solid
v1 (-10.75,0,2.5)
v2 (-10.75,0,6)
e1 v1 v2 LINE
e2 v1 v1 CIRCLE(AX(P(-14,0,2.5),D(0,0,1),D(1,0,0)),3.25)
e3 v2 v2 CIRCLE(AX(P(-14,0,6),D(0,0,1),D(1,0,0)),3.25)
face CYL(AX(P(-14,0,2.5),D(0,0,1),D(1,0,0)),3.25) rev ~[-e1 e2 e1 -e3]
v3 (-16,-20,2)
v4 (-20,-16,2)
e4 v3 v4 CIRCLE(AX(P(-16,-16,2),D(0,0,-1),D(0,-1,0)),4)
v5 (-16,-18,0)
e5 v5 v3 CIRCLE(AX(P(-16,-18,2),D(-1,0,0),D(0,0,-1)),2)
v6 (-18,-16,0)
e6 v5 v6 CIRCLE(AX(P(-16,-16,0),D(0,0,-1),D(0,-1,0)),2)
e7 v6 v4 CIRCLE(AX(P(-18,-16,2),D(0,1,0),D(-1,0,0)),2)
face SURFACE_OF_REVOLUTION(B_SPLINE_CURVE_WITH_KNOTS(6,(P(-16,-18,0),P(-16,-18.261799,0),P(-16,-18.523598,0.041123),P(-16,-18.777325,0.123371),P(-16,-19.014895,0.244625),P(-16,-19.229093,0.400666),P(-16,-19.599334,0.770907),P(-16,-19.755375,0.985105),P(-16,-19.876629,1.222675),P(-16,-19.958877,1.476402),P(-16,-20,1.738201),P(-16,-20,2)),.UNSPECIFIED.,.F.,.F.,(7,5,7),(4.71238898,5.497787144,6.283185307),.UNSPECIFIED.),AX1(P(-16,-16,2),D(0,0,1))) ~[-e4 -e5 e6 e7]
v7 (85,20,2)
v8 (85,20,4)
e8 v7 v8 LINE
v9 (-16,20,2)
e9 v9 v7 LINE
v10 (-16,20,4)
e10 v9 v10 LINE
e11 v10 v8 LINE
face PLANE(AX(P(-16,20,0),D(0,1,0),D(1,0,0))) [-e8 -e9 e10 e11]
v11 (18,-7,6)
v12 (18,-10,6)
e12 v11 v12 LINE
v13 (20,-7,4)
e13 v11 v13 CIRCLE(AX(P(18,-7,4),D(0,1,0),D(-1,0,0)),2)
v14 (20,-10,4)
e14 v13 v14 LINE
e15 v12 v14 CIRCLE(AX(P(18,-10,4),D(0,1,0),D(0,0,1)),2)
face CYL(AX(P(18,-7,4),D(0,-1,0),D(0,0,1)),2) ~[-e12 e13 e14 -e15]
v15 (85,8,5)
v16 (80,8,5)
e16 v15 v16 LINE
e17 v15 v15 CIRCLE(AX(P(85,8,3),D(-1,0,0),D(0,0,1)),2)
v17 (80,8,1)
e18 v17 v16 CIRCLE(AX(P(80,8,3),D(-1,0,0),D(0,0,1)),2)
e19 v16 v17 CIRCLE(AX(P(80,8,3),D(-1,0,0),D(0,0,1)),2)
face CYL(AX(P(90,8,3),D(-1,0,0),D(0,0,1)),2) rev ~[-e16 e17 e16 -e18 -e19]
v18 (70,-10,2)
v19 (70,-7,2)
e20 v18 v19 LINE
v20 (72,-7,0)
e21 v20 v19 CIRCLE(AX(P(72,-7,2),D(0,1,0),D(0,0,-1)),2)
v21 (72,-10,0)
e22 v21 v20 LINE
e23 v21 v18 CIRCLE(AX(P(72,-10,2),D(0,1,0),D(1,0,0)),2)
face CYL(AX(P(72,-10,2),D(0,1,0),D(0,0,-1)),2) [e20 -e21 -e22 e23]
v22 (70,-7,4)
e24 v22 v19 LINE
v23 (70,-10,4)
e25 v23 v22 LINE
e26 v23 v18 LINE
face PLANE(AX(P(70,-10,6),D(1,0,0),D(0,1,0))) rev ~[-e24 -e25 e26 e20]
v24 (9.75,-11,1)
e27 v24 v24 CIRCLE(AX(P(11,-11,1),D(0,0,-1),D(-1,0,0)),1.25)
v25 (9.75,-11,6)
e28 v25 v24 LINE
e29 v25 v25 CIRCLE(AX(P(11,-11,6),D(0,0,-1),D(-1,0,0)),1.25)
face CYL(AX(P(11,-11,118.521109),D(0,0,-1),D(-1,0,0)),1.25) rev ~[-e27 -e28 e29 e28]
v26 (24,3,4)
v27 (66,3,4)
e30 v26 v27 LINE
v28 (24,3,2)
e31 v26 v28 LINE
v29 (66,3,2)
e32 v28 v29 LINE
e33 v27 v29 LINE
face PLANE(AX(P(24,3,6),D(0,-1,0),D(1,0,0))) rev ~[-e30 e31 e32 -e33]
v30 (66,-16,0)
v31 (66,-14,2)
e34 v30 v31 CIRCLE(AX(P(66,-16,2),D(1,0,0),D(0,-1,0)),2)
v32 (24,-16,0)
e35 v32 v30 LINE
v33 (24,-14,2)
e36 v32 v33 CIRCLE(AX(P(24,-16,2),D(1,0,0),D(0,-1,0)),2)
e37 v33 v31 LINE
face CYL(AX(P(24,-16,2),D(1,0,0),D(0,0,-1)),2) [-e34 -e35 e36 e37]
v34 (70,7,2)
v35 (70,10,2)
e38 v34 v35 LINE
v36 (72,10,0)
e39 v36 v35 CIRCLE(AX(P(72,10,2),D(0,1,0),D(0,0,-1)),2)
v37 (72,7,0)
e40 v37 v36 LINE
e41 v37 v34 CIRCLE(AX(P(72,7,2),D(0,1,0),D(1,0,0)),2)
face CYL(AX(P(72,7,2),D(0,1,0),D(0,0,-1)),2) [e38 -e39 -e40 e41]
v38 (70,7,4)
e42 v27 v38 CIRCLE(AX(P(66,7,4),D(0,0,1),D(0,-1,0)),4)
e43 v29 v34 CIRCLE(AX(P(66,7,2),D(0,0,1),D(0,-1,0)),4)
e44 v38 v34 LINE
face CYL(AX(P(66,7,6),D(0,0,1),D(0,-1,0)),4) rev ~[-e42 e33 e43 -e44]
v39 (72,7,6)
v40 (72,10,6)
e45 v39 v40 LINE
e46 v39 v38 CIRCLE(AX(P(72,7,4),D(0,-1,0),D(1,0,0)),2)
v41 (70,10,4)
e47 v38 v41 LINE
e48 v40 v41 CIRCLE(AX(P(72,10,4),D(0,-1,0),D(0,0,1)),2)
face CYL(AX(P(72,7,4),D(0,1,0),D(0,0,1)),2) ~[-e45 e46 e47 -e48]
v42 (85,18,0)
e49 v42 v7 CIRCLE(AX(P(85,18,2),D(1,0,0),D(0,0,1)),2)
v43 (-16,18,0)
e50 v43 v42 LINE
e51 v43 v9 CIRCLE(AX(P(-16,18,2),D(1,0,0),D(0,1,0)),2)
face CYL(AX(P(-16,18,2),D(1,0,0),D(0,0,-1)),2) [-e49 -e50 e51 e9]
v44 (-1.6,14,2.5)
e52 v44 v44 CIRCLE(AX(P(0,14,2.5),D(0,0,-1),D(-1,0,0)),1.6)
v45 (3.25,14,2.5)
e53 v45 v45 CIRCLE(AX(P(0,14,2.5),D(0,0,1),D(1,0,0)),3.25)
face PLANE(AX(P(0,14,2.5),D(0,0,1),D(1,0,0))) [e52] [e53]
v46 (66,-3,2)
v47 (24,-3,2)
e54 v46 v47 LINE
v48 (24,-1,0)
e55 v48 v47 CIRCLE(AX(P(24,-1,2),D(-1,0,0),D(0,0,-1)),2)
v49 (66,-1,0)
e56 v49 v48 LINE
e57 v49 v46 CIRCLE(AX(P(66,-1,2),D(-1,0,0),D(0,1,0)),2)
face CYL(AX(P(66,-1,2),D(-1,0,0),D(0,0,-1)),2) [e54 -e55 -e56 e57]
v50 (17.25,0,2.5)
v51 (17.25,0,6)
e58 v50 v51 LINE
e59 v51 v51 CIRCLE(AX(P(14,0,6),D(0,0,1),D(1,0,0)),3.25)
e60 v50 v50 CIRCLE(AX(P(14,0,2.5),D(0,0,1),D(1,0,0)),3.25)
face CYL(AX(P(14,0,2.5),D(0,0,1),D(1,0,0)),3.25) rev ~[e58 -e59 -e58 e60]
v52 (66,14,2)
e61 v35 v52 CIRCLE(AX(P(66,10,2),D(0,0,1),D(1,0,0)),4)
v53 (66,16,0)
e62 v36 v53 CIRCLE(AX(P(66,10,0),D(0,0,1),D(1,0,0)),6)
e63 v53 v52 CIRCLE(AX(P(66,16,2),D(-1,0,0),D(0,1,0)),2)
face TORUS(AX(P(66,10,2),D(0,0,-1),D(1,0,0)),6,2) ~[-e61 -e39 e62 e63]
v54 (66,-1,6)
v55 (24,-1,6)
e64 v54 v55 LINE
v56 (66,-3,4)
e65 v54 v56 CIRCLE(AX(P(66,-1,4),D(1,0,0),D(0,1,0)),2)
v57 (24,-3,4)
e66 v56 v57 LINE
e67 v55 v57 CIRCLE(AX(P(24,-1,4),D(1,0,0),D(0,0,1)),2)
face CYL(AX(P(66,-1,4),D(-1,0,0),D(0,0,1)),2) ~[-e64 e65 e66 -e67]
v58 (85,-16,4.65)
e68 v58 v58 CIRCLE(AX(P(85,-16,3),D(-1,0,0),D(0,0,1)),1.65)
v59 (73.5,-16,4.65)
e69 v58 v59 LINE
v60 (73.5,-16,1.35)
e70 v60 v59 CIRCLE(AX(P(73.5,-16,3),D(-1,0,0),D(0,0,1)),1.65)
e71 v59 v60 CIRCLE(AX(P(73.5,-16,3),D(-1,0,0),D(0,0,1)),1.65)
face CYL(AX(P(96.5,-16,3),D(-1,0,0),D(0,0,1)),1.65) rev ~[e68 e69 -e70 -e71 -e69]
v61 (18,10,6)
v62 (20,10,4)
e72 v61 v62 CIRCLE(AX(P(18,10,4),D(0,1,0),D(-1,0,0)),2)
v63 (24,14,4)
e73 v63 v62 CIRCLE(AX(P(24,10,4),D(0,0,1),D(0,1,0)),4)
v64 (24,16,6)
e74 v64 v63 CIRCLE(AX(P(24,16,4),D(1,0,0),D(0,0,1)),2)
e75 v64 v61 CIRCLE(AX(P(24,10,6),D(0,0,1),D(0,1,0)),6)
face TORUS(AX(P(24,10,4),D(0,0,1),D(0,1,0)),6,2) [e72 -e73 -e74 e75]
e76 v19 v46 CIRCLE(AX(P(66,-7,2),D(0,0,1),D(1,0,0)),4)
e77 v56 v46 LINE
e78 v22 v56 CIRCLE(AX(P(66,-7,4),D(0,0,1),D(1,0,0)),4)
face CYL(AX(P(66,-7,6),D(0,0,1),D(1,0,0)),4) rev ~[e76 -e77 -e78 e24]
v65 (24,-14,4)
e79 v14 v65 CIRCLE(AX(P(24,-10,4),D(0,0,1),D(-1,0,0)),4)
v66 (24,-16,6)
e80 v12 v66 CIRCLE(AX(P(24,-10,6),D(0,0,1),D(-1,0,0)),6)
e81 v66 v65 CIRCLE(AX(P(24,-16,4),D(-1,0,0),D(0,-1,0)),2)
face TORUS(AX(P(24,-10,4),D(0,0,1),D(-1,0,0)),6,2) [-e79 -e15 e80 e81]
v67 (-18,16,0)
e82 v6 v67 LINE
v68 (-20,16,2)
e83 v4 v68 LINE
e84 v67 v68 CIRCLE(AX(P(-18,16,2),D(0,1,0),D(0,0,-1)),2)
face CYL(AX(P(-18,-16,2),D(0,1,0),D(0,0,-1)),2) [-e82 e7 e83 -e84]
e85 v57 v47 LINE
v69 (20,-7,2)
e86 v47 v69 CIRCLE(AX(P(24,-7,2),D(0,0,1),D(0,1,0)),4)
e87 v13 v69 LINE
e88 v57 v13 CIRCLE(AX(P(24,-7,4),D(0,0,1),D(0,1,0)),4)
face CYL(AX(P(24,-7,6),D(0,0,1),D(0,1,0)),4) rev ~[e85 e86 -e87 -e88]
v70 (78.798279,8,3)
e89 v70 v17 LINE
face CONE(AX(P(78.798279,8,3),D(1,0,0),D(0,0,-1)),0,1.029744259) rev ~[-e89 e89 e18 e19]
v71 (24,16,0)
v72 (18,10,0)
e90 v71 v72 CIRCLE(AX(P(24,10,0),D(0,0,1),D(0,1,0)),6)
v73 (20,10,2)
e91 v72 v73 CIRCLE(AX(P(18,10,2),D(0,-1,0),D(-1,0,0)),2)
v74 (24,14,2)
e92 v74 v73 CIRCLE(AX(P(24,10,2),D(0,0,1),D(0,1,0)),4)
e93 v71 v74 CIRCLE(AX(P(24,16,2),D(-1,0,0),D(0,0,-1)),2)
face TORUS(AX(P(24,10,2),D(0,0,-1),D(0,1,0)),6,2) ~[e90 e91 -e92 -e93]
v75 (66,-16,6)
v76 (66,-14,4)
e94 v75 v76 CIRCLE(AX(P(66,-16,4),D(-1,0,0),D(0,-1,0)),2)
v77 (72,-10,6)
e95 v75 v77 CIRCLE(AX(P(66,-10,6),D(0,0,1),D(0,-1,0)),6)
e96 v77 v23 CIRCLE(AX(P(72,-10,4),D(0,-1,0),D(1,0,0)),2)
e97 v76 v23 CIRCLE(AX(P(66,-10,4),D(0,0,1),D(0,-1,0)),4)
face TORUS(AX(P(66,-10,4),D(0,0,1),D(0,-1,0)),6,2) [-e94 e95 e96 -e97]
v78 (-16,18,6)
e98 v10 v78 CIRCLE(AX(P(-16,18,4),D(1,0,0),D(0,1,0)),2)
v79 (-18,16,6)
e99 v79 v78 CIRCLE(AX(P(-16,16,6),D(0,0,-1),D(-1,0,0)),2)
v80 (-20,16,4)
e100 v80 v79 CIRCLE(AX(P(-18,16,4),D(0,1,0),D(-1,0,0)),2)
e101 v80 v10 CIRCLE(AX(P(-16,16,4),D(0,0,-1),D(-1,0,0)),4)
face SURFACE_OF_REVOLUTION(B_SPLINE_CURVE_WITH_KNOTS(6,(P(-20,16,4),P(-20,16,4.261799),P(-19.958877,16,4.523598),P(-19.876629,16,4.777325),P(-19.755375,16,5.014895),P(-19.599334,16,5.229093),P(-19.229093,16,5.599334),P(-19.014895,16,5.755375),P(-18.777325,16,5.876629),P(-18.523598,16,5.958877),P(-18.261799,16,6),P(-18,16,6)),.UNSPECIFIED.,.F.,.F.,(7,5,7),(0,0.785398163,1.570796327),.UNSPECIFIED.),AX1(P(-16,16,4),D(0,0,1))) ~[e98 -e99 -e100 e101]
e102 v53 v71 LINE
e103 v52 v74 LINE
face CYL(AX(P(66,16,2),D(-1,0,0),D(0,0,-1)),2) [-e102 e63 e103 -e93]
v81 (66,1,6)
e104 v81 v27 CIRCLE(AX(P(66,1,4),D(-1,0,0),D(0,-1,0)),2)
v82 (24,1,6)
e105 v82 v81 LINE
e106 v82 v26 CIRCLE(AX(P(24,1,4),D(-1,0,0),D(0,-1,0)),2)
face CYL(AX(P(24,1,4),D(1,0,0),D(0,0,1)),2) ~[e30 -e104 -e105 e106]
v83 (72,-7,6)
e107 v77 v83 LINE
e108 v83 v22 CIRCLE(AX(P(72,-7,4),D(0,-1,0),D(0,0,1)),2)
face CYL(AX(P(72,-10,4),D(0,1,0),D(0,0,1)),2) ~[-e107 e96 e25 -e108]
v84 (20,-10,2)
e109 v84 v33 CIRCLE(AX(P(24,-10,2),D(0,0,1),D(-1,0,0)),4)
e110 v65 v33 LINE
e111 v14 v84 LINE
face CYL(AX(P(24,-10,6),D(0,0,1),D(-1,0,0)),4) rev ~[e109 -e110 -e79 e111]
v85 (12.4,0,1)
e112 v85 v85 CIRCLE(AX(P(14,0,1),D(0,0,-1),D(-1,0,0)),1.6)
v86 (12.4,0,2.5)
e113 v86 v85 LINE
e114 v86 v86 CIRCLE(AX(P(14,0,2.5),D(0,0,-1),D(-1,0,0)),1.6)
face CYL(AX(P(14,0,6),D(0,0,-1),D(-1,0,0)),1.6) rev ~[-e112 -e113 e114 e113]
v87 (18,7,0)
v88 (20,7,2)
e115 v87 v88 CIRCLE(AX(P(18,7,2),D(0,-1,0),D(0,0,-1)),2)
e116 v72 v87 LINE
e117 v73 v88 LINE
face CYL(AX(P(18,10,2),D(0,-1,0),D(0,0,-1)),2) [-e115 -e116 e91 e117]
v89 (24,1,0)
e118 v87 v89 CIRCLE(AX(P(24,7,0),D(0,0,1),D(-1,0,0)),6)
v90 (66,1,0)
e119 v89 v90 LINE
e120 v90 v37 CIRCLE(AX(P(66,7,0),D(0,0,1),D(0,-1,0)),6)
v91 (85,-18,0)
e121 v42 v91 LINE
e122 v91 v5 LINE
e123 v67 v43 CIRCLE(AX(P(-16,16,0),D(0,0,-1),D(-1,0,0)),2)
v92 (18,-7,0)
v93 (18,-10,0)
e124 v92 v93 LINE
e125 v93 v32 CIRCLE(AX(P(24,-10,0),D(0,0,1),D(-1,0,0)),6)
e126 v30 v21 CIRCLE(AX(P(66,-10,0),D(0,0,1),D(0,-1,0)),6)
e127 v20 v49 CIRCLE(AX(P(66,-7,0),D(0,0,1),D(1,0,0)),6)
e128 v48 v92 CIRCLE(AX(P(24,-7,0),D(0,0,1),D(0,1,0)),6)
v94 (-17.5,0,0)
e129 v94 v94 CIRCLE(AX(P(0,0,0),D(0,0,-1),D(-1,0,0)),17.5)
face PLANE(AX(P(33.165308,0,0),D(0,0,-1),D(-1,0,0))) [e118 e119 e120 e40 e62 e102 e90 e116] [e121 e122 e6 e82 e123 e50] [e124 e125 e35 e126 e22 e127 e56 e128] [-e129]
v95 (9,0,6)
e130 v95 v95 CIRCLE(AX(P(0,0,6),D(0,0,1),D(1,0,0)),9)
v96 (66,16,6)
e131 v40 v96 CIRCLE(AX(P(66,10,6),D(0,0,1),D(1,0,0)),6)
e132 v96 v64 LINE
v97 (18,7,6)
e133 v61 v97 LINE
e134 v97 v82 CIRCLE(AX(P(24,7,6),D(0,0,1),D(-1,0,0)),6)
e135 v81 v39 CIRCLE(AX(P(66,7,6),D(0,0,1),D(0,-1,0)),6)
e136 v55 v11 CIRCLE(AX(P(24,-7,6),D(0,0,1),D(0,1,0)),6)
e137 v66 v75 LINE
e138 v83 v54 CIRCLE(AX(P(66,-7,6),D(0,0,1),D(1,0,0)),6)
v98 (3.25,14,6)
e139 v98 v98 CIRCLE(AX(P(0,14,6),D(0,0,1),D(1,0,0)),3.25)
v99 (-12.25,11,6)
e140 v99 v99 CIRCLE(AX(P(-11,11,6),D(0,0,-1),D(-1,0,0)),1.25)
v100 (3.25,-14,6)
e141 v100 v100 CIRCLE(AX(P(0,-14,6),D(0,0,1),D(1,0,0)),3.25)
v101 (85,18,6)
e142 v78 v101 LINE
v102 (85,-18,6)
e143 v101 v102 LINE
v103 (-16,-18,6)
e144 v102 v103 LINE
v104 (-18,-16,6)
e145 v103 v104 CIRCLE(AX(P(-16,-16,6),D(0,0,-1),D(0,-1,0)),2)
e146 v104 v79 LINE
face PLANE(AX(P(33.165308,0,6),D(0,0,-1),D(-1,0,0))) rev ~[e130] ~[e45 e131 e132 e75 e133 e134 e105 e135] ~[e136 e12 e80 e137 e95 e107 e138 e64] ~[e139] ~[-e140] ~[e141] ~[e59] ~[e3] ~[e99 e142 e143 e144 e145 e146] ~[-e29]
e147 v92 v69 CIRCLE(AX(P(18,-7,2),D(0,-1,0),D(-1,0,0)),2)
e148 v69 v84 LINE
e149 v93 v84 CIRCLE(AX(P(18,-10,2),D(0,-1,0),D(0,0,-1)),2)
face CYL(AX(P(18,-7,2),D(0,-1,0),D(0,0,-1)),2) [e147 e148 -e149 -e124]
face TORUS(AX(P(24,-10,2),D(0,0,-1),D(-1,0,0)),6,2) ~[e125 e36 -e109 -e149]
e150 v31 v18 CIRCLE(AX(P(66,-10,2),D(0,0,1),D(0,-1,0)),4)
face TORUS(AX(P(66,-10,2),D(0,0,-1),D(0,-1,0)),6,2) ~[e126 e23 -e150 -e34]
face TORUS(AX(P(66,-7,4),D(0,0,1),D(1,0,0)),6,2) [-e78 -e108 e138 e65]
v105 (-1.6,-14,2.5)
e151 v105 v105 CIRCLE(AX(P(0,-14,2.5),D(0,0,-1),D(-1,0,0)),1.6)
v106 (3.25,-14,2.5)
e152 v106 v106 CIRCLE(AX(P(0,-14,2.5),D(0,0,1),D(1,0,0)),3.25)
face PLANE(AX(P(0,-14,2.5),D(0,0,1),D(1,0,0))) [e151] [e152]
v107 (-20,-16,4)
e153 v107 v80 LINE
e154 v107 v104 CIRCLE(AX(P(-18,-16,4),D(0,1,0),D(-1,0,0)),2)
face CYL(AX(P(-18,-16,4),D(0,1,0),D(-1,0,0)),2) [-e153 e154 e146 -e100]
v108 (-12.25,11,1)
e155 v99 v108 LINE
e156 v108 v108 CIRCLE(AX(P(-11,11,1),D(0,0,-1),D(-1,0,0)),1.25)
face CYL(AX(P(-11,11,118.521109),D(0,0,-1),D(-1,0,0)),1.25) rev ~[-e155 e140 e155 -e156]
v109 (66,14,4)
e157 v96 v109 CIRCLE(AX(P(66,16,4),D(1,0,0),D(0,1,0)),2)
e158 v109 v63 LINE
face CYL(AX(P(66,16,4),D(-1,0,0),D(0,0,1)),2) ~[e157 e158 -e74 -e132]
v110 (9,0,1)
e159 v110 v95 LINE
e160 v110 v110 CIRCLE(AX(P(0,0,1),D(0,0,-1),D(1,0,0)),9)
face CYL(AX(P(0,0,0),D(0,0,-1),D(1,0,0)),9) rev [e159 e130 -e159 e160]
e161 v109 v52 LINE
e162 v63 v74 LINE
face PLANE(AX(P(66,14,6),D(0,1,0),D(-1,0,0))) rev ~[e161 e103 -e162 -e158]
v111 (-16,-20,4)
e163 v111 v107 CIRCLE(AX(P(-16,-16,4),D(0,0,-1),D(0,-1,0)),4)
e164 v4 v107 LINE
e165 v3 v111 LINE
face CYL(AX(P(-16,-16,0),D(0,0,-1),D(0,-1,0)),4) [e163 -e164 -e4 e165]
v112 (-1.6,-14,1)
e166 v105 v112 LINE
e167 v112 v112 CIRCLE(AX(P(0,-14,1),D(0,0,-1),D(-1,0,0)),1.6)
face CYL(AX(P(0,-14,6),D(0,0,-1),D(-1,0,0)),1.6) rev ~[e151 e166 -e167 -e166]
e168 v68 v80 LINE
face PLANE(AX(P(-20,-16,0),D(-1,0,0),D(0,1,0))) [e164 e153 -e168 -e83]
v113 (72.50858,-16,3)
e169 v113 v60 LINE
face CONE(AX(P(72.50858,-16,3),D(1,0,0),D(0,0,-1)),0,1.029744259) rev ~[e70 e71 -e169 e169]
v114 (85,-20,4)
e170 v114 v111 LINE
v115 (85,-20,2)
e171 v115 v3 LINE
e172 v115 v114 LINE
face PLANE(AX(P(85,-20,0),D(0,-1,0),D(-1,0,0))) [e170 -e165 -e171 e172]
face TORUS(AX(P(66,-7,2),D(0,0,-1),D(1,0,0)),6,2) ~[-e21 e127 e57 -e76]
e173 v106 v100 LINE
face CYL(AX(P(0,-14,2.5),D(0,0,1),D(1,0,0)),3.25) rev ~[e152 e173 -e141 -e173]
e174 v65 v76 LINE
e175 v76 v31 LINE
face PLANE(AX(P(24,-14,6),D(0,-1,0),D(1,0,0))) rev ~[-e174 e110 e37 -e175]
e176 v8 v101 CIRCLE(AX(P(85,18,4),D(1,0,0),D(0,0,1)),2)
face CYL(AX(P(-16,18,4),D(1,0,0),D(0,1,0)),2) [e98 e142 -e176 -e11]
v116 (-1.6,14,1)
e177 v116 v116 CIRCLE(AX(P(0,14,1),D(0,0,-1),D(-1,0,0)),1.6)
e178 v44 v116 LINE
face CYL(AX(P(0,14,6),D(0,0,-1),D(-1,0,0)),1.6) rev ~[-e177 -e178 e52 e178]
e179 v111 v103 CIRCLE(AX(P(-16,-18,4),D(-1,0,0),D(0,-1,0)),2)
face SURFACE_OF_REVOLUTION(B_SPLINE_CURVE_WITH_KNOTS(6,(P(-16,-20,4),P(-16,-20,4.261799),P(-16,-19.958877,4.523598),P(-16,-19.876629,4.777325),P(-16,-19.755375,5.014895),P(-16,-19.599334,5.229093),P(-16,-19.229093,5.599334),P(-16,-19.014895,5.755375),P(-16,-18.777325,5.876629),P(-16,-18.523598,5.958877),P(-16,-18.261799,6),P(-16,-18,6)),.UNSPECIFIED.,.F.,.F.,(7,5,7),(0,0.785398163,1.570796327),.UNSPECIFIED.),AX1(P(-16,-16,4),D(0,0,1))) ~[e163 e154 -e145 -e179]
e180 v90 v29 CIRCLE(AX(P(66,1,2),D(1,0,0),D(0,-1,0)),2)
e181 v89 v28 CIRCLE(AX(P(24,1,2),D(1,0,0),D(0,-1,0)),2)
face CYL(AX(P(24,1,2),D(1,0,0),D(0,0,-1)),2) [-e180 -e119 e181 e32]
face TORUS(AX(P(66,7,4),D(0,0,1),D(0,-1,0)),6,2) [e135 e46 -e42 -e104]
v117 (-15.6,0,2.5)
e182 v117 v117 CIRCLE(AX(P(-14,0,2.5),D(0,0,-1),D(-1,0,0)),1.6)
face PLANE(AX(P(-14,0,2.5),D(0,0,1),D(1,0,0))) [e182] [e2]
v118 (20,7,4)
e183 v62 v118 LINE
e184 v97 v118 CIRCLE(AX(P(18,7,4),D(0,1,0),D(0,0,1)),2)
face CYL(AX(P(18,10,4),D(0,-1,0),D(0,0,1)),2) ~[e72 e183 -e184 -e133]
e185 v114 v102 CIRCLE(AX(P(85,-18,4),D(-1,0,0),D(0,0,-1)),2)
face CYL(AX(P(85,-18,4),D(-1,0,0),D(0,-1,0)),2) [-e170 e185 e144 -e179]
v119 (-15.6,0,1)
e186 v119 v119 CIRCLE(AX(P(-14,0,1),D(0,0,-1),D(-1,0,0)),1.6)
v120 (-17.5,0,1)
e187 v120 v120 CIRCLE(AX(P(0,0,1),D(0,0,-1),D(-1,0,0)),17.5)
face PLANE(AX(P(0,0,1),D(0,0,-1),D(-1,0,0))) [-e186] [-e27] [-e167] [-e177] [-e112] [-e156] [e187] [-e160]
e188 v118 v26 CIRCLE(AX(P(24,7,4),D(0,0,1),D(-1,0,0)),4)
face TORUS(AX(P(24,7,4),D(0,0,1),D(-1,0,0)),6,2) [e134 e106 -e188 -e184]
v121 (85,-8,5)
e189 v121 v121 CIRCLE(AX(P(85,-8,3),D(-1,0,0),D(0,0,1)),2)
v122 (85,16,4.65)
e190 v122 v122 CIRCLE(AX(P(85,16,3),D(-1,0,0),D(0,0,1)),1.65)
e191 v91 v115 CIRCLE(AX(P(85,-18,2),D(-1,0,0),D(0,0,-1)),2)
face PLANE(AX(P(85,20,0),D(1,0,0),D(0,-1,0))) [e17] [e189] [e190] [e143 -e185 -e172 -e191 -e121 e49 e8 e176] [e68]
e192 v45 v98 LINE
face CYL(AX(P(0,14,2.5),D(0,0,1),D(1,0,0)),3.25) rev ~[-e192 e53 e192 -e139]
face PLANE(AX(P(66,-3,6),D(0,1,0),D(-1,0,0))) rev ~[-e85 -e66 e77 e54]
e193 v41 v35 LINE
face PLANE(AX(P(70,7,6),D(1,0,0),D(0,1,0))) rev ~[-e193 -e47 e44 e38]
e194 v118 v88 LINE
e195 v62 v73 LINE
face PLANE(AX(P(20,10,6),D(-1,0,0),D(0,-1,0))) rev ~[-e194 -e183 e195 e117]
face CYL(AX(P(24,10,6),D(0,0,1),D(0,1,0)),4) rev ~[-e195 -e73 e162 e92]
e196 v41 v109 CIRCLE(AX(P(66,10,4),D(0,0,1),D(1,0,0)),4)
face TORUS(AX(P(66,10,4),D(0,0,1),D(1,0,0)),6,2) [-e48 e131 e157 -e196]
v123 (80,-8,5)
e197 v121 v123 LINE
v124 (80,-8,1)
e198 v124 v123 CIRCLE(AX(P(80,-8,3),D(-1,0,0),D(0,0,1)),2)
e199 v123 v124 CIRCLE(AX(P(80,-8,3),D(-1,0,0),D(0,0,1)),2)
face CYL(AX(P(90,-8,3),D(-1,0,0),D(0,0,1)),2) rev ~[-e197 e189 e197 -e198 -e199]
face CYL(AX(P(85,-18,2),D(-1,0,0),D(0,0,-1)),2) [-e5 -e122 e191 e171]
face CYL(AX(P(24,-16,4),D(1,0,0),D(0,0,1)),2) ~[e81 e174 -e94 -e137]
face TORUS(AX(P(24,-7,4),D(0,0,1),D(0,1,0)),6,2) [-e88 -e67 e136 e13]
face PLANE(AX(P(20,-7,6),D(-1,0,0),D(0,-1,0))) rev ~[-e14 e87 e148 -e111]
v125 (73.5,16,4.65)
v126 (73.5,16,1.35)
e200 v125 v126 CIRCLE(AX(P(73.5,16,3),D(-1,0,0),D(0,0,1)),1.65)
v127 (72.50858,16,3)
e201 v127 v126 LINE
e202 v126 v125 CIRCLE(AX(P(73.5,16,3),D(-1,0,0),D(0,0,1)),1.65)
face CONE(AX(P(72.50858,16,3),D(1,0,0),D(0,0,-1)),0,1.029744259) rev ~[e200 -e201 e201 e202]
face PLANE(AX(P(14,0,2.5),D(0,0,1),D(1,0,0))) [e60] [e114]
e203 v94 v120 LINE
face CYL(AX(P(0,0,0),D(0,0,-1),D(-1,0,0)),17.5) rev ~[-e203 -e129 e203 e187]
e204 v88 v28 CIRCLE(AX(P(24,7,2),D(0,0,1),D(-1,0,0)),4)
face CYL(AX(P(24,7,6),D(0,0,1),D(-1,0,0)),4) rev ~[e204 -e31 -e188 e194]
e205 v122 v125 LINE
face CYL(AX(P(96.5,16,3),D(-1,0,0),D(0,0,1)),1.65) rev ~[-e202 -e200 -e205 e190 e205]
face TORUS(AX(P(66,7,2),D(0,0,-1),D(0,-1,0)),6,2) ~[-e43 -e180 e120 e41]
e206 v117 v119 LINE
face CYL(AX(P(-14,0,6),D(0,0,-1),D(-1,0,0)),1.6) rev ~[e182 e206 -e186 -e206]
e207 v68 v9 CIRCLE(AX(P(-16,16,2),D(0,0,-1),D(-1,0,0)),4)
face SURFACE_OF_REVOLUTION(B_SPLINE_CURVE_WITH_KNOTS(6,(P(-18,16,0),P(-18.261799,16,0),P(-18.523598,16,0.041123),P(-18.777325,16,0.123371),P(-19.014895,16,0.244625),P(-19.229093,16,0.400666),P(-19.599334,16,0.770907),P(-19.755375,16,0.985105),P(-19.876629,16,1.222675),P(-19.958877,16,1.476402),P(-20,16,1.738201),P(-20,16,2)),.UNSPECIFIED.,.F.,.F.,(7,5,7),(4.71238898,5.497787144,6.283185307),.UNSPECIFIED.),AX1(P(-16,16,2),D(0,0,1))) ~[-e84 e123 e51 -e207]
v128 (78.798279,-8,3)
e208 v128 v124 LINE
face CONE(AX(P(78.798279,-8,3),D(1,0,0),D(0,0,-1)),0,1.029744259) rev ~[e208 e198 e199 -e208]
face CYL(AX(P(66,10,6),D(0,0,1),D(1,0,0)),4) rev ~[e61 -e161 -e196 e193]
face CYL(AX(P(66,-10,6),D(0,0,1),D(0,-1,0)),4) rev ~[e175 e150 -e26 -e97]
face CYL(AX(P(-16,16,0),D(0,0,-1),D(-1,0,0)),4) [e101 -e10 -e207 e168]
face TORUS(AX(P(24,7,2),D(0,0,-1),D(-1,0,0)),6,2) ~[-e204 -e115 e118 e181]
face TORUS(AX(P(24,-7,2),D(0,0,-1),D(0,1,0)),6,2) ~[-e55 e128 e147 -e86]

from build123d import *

# Parameters (mm, degrees)
ESQUISSE1_R                                        = 9
BOSS_EXTRU_1_DEPTH                                 = 6
TROU_TARAUD_M31_D                                  = 2.5
DIAM_TRE_DU_PER_AGE_4_0_4_1_D                      = 4
DIAM_TRE_DU_PER_AGE_4_0_4_1_DEPTH                  = 5
DIAM_TRE_DU_PER_AGE_4_0_4_1_TIP                    = 1.201721238
TROU_TARAUD_M41_D                                  = 3.3
TROU_TARAUD_M41_DEPTH                              = 11.5
TROU_TARAUD_M41_TIP                                = 0.991420021
CHAMBRAGE_POUR_VIS_T_TE_HEXAGONALE_M31_D           = 3.2
CHAMBRAGE_POUR_VIS_T_TE_HEXAGONALE_M31_CBORE_D     = 6.5
CHAMBRAGE_POUR_VIS_T_TE_HEXAGONALE_M31_CBORE_DEPTH = 3.5
ENL_V_MAT_EXTRU_1_REACH                            = 89.527
CONG_1_R                                           = 2
ESQUISSE14_R                                       = 17.5
ENL_V_MAT_EXTRU_2_DEPTH                            = 1


with BuildPart() as part:
    # Esquisse1 → Boss.-Extru.1 (new body)
    with BuildSketch(Plane.XY):
        with BuildLine():
            Line((-16, 20), (85, 20))
            Line((85, 20), (85, -20))
            Line((85, -20), (-16, -20))
            ThreePointArc((-16, -20), (-18.828427125, -18.828427125), (-20, -16))
            Line((-20, -16), (-20, 16))
            ThreePointArc((-20, 16), (-18.828427125, 18.828427125), (-16, 20))
        make_face()
        Circle(ESQUISSE1_R, mode=Mode.SUBTRACT)
    extrude(amount=BOSS_EXTRU_1_DEPTH)

    # Trou taraudé M31 (through all)
    with Locations(Plane.XY.offset(6)):
        with Locations((-11, 11), (11, -11)):
            Hole(TROU_TARAUD_M31_D / 2)

    # Diamètre du perçage Ø4.0 (4)1
    with Locations(Plane(origin=(85, 0, 0), x_dir=(0, 0, -1), z_dir=(1, 0, 0))):
        with Locations((-3, 8), (-3, -8)):
            Hole(DIAM_TRE_DU_PER_AGE_4_0_4_1_D / 2, depth=DIAM_TRE_DU_PER_AGE_4_0_4_1_DEPTH)
            with Locations((0, 0, -(DIAM_TRE_DU_PER_AGE_4_0_4_1_DEPTH + DIAM_TRE_DU_PER_AGE_4_0_4_1_TIP / 2))):  # 118° drill point
                Cone(0, DIAM_TRE_DU_PER_AGE_4_0_4_1_D / 2, DIAM_TRE_DU_PER_AGE_4_0_4_1_TIP, mode=Mode.SUBTRACT)

    # Trou taraudé M41
    with Locations(Plane(origin=(85, 0, 0), x_dir=(0, 0, -1), z_dir=(1, 0, 0))):
        with Locations((-3, 16), (-3, -16)):
            Hole(TROU_TARAUD_M41_D / 2, depth=TROU_TARAUD_M41_DEPTH)
            with Locations((0, 0, -(TROU_TARAUD_M41_DEPTH + TROU_TARAUD_M41_TIP / 2))):  # 118° drill point
                Cone(0, TROU_TARAUD_M41_D / 2, TROU_TARAUD_M41_TIP, mode=Mode.SUBTRACT)

    # Chambrage pour vis à tête hexagonale M31 (through all)
    with Locations(Plane.XY.offset(6)):
        with Locations((0, 14), (14, 0), (0, -14), (-14, 0)):
            CounterBoreHole(CHAMBRAGE_POUR_VIS_T_TE_HEXAGONALE_M31_D / 2, CHAMBRAGE_POUR_VIS_T_TE_HEXAGONALE_M31_CBORE_D / 2, CHAMBRAGE_POUR_VIS_T_TE_HEXAGONALE_M31_CBORE_DEPTH)

    # Esquisse13 → Enlèv. mat.-Extru.1 (cut, up to next)
    with BuildSketch(Plane.XY.offset(6), mode=Mode.PRIVATE) as enl_v_mat_extru_1_sk1:
        with BuildLine():
            Line((20, 10), (20, 7))
            ThreePointArc((20, 7), (21.171572875, 4.171572875), (24, 3))
            Line((24, 3), (66, 3))
            ThreePointArc((66, 3), (68.828427125, 4.171572875), (70, 7))
            Line((70, 7), (70, 10))
            ThreePointArc((70, 10), (68.828427125, 12.828427125), (66, 14))
            Line((66, 14), (24, 14))
            ThreePointArc((24, 14), (21.171572875, 12.828427125), (20, 10))
        make_face()
    enl_v_mat_extru_1_tool1 = extrude(enl_v_mat_extru_1_sk1.sketch, amount=-ENL_V_MAT_EXTRU_1_REACH, mode=Mode.PRIVATE) & part.part
    # Esquisse13 → Enlèv. mat.-Extru.1 (cut, up to next)
    with BuildSketch(Plane.XY.offset(6), mode=Mode.PRIVATE) as enl_v_mat_extru_1_sk2:
        with BuildLine():
            Line((20, -7), (20, -10))
            ThreePointArc((20, -10), (21.171572875, -12.828427125), (24, -14))
            Line((24, -14), (66, -14))
            ThreePointArc((66, -14), (68.828427125, -12.828427125), (70, -10))
            Line((70, -10), (70, -7))
            ThreePointArc((70, -7), (68.828427125, -4.171572875), (66, -3))
            Line((66, -3), (24, -3))
            ThreePointArc((24, -3), (21.171572875, -4.171572875), (20, -7))
        make_face()
    enl_v_mat_extru_1_tool2 = extrude(enl_v_mat_extru_1_sk2.sketch, amount=-ENL_V_MAT_EXTRU_1_REACH, mode=Mode.PRIVATE) & part.part
    add(enl_v_mat_extru_1_tool1.solids().sort_by_distance((45, 8.5, 6))[0], mode=Mode.SUBTRACT)
    add(enl_v_mat_extru_1_tool2.solids().sort_by_distance((45, -8.5, 6))[0], mode=Mode.SUBTRACT)

    # Congé1
    cong_1_edges = [part.edges().sort_by_distance(p)[0] for p in [
        (-18.828427125, 18.828427125, 6),
        (68.828427125, -12.828427125, 0),
        (45, -14, 0),
        (21.171572875, -12.828427125, 0),
        (20, -8.5, 0),
        (21.171572875, -4.171572875, 0),
        (45, -3, 0),
        (68.828427125, -4.171572875, 0),
        (70, -8.5, 0),
        (68.828427125, -12.828427125, 6),
        (70, -8.5, 6),
        (68.828427125, -4.171572875, 6),
        (45, -3, 6),
        (21.171572875, -4.171572875, 6),
        (20, -8.5, 6),
        (21.171572875, -12.828427125, 6),
        (45, -14, 6),
        (-20, 0, 6),
        (-18.828427125, -18.828427125, 6),
        (34.5, -20, 6),
        (34.5, -20, 0),
        (-18.828427125, -18.828427125, 0),
        (-20, 0, 0),
        (34.5, 20, 6),
        (-18.828427125, 18.828427125, 0),
        (34.5, 20, 0),
        (68.828427125, 4.171572875, 0),
        (45, 3, 0),
        (21.171572875, 4.171572875, 0),
        (20, 8.5, 0),
        (21.171572875, 12.828427125, 0),
        (45, 14, 0),
        (68.828427125, 12.828427125, 0),
        (70, 8.5, 0),
        (68.828427125, 4.171572875, 6),
        (70, 8.5, 6),
        (68.828427125, 12.828427125, 6),
        (45, 14, 6),
        (21.171572875, 12.828427125, 6),
        (20, 8.5, 6),
        (21.171572875, 4.171572875, 6),
        (45, 3, 6),
    ]]
    fillet(cong_1_edges, radius=CONG_1_R)

    # Esquisse14 → Enlèv. mat.-Extru.2 (cut)
    with BuildSketch(Plane(origin=(0, 0, 0), x_dir=(-1, 0, 0), z_dir=(0, 0, -1))):
        Circle(ESQUISSE14_R)
    extrude(amount=-ENL_V_MAT_EXTRU_2_DEPTH, mode=Mode.SUBTRACT)


solid = part.part
